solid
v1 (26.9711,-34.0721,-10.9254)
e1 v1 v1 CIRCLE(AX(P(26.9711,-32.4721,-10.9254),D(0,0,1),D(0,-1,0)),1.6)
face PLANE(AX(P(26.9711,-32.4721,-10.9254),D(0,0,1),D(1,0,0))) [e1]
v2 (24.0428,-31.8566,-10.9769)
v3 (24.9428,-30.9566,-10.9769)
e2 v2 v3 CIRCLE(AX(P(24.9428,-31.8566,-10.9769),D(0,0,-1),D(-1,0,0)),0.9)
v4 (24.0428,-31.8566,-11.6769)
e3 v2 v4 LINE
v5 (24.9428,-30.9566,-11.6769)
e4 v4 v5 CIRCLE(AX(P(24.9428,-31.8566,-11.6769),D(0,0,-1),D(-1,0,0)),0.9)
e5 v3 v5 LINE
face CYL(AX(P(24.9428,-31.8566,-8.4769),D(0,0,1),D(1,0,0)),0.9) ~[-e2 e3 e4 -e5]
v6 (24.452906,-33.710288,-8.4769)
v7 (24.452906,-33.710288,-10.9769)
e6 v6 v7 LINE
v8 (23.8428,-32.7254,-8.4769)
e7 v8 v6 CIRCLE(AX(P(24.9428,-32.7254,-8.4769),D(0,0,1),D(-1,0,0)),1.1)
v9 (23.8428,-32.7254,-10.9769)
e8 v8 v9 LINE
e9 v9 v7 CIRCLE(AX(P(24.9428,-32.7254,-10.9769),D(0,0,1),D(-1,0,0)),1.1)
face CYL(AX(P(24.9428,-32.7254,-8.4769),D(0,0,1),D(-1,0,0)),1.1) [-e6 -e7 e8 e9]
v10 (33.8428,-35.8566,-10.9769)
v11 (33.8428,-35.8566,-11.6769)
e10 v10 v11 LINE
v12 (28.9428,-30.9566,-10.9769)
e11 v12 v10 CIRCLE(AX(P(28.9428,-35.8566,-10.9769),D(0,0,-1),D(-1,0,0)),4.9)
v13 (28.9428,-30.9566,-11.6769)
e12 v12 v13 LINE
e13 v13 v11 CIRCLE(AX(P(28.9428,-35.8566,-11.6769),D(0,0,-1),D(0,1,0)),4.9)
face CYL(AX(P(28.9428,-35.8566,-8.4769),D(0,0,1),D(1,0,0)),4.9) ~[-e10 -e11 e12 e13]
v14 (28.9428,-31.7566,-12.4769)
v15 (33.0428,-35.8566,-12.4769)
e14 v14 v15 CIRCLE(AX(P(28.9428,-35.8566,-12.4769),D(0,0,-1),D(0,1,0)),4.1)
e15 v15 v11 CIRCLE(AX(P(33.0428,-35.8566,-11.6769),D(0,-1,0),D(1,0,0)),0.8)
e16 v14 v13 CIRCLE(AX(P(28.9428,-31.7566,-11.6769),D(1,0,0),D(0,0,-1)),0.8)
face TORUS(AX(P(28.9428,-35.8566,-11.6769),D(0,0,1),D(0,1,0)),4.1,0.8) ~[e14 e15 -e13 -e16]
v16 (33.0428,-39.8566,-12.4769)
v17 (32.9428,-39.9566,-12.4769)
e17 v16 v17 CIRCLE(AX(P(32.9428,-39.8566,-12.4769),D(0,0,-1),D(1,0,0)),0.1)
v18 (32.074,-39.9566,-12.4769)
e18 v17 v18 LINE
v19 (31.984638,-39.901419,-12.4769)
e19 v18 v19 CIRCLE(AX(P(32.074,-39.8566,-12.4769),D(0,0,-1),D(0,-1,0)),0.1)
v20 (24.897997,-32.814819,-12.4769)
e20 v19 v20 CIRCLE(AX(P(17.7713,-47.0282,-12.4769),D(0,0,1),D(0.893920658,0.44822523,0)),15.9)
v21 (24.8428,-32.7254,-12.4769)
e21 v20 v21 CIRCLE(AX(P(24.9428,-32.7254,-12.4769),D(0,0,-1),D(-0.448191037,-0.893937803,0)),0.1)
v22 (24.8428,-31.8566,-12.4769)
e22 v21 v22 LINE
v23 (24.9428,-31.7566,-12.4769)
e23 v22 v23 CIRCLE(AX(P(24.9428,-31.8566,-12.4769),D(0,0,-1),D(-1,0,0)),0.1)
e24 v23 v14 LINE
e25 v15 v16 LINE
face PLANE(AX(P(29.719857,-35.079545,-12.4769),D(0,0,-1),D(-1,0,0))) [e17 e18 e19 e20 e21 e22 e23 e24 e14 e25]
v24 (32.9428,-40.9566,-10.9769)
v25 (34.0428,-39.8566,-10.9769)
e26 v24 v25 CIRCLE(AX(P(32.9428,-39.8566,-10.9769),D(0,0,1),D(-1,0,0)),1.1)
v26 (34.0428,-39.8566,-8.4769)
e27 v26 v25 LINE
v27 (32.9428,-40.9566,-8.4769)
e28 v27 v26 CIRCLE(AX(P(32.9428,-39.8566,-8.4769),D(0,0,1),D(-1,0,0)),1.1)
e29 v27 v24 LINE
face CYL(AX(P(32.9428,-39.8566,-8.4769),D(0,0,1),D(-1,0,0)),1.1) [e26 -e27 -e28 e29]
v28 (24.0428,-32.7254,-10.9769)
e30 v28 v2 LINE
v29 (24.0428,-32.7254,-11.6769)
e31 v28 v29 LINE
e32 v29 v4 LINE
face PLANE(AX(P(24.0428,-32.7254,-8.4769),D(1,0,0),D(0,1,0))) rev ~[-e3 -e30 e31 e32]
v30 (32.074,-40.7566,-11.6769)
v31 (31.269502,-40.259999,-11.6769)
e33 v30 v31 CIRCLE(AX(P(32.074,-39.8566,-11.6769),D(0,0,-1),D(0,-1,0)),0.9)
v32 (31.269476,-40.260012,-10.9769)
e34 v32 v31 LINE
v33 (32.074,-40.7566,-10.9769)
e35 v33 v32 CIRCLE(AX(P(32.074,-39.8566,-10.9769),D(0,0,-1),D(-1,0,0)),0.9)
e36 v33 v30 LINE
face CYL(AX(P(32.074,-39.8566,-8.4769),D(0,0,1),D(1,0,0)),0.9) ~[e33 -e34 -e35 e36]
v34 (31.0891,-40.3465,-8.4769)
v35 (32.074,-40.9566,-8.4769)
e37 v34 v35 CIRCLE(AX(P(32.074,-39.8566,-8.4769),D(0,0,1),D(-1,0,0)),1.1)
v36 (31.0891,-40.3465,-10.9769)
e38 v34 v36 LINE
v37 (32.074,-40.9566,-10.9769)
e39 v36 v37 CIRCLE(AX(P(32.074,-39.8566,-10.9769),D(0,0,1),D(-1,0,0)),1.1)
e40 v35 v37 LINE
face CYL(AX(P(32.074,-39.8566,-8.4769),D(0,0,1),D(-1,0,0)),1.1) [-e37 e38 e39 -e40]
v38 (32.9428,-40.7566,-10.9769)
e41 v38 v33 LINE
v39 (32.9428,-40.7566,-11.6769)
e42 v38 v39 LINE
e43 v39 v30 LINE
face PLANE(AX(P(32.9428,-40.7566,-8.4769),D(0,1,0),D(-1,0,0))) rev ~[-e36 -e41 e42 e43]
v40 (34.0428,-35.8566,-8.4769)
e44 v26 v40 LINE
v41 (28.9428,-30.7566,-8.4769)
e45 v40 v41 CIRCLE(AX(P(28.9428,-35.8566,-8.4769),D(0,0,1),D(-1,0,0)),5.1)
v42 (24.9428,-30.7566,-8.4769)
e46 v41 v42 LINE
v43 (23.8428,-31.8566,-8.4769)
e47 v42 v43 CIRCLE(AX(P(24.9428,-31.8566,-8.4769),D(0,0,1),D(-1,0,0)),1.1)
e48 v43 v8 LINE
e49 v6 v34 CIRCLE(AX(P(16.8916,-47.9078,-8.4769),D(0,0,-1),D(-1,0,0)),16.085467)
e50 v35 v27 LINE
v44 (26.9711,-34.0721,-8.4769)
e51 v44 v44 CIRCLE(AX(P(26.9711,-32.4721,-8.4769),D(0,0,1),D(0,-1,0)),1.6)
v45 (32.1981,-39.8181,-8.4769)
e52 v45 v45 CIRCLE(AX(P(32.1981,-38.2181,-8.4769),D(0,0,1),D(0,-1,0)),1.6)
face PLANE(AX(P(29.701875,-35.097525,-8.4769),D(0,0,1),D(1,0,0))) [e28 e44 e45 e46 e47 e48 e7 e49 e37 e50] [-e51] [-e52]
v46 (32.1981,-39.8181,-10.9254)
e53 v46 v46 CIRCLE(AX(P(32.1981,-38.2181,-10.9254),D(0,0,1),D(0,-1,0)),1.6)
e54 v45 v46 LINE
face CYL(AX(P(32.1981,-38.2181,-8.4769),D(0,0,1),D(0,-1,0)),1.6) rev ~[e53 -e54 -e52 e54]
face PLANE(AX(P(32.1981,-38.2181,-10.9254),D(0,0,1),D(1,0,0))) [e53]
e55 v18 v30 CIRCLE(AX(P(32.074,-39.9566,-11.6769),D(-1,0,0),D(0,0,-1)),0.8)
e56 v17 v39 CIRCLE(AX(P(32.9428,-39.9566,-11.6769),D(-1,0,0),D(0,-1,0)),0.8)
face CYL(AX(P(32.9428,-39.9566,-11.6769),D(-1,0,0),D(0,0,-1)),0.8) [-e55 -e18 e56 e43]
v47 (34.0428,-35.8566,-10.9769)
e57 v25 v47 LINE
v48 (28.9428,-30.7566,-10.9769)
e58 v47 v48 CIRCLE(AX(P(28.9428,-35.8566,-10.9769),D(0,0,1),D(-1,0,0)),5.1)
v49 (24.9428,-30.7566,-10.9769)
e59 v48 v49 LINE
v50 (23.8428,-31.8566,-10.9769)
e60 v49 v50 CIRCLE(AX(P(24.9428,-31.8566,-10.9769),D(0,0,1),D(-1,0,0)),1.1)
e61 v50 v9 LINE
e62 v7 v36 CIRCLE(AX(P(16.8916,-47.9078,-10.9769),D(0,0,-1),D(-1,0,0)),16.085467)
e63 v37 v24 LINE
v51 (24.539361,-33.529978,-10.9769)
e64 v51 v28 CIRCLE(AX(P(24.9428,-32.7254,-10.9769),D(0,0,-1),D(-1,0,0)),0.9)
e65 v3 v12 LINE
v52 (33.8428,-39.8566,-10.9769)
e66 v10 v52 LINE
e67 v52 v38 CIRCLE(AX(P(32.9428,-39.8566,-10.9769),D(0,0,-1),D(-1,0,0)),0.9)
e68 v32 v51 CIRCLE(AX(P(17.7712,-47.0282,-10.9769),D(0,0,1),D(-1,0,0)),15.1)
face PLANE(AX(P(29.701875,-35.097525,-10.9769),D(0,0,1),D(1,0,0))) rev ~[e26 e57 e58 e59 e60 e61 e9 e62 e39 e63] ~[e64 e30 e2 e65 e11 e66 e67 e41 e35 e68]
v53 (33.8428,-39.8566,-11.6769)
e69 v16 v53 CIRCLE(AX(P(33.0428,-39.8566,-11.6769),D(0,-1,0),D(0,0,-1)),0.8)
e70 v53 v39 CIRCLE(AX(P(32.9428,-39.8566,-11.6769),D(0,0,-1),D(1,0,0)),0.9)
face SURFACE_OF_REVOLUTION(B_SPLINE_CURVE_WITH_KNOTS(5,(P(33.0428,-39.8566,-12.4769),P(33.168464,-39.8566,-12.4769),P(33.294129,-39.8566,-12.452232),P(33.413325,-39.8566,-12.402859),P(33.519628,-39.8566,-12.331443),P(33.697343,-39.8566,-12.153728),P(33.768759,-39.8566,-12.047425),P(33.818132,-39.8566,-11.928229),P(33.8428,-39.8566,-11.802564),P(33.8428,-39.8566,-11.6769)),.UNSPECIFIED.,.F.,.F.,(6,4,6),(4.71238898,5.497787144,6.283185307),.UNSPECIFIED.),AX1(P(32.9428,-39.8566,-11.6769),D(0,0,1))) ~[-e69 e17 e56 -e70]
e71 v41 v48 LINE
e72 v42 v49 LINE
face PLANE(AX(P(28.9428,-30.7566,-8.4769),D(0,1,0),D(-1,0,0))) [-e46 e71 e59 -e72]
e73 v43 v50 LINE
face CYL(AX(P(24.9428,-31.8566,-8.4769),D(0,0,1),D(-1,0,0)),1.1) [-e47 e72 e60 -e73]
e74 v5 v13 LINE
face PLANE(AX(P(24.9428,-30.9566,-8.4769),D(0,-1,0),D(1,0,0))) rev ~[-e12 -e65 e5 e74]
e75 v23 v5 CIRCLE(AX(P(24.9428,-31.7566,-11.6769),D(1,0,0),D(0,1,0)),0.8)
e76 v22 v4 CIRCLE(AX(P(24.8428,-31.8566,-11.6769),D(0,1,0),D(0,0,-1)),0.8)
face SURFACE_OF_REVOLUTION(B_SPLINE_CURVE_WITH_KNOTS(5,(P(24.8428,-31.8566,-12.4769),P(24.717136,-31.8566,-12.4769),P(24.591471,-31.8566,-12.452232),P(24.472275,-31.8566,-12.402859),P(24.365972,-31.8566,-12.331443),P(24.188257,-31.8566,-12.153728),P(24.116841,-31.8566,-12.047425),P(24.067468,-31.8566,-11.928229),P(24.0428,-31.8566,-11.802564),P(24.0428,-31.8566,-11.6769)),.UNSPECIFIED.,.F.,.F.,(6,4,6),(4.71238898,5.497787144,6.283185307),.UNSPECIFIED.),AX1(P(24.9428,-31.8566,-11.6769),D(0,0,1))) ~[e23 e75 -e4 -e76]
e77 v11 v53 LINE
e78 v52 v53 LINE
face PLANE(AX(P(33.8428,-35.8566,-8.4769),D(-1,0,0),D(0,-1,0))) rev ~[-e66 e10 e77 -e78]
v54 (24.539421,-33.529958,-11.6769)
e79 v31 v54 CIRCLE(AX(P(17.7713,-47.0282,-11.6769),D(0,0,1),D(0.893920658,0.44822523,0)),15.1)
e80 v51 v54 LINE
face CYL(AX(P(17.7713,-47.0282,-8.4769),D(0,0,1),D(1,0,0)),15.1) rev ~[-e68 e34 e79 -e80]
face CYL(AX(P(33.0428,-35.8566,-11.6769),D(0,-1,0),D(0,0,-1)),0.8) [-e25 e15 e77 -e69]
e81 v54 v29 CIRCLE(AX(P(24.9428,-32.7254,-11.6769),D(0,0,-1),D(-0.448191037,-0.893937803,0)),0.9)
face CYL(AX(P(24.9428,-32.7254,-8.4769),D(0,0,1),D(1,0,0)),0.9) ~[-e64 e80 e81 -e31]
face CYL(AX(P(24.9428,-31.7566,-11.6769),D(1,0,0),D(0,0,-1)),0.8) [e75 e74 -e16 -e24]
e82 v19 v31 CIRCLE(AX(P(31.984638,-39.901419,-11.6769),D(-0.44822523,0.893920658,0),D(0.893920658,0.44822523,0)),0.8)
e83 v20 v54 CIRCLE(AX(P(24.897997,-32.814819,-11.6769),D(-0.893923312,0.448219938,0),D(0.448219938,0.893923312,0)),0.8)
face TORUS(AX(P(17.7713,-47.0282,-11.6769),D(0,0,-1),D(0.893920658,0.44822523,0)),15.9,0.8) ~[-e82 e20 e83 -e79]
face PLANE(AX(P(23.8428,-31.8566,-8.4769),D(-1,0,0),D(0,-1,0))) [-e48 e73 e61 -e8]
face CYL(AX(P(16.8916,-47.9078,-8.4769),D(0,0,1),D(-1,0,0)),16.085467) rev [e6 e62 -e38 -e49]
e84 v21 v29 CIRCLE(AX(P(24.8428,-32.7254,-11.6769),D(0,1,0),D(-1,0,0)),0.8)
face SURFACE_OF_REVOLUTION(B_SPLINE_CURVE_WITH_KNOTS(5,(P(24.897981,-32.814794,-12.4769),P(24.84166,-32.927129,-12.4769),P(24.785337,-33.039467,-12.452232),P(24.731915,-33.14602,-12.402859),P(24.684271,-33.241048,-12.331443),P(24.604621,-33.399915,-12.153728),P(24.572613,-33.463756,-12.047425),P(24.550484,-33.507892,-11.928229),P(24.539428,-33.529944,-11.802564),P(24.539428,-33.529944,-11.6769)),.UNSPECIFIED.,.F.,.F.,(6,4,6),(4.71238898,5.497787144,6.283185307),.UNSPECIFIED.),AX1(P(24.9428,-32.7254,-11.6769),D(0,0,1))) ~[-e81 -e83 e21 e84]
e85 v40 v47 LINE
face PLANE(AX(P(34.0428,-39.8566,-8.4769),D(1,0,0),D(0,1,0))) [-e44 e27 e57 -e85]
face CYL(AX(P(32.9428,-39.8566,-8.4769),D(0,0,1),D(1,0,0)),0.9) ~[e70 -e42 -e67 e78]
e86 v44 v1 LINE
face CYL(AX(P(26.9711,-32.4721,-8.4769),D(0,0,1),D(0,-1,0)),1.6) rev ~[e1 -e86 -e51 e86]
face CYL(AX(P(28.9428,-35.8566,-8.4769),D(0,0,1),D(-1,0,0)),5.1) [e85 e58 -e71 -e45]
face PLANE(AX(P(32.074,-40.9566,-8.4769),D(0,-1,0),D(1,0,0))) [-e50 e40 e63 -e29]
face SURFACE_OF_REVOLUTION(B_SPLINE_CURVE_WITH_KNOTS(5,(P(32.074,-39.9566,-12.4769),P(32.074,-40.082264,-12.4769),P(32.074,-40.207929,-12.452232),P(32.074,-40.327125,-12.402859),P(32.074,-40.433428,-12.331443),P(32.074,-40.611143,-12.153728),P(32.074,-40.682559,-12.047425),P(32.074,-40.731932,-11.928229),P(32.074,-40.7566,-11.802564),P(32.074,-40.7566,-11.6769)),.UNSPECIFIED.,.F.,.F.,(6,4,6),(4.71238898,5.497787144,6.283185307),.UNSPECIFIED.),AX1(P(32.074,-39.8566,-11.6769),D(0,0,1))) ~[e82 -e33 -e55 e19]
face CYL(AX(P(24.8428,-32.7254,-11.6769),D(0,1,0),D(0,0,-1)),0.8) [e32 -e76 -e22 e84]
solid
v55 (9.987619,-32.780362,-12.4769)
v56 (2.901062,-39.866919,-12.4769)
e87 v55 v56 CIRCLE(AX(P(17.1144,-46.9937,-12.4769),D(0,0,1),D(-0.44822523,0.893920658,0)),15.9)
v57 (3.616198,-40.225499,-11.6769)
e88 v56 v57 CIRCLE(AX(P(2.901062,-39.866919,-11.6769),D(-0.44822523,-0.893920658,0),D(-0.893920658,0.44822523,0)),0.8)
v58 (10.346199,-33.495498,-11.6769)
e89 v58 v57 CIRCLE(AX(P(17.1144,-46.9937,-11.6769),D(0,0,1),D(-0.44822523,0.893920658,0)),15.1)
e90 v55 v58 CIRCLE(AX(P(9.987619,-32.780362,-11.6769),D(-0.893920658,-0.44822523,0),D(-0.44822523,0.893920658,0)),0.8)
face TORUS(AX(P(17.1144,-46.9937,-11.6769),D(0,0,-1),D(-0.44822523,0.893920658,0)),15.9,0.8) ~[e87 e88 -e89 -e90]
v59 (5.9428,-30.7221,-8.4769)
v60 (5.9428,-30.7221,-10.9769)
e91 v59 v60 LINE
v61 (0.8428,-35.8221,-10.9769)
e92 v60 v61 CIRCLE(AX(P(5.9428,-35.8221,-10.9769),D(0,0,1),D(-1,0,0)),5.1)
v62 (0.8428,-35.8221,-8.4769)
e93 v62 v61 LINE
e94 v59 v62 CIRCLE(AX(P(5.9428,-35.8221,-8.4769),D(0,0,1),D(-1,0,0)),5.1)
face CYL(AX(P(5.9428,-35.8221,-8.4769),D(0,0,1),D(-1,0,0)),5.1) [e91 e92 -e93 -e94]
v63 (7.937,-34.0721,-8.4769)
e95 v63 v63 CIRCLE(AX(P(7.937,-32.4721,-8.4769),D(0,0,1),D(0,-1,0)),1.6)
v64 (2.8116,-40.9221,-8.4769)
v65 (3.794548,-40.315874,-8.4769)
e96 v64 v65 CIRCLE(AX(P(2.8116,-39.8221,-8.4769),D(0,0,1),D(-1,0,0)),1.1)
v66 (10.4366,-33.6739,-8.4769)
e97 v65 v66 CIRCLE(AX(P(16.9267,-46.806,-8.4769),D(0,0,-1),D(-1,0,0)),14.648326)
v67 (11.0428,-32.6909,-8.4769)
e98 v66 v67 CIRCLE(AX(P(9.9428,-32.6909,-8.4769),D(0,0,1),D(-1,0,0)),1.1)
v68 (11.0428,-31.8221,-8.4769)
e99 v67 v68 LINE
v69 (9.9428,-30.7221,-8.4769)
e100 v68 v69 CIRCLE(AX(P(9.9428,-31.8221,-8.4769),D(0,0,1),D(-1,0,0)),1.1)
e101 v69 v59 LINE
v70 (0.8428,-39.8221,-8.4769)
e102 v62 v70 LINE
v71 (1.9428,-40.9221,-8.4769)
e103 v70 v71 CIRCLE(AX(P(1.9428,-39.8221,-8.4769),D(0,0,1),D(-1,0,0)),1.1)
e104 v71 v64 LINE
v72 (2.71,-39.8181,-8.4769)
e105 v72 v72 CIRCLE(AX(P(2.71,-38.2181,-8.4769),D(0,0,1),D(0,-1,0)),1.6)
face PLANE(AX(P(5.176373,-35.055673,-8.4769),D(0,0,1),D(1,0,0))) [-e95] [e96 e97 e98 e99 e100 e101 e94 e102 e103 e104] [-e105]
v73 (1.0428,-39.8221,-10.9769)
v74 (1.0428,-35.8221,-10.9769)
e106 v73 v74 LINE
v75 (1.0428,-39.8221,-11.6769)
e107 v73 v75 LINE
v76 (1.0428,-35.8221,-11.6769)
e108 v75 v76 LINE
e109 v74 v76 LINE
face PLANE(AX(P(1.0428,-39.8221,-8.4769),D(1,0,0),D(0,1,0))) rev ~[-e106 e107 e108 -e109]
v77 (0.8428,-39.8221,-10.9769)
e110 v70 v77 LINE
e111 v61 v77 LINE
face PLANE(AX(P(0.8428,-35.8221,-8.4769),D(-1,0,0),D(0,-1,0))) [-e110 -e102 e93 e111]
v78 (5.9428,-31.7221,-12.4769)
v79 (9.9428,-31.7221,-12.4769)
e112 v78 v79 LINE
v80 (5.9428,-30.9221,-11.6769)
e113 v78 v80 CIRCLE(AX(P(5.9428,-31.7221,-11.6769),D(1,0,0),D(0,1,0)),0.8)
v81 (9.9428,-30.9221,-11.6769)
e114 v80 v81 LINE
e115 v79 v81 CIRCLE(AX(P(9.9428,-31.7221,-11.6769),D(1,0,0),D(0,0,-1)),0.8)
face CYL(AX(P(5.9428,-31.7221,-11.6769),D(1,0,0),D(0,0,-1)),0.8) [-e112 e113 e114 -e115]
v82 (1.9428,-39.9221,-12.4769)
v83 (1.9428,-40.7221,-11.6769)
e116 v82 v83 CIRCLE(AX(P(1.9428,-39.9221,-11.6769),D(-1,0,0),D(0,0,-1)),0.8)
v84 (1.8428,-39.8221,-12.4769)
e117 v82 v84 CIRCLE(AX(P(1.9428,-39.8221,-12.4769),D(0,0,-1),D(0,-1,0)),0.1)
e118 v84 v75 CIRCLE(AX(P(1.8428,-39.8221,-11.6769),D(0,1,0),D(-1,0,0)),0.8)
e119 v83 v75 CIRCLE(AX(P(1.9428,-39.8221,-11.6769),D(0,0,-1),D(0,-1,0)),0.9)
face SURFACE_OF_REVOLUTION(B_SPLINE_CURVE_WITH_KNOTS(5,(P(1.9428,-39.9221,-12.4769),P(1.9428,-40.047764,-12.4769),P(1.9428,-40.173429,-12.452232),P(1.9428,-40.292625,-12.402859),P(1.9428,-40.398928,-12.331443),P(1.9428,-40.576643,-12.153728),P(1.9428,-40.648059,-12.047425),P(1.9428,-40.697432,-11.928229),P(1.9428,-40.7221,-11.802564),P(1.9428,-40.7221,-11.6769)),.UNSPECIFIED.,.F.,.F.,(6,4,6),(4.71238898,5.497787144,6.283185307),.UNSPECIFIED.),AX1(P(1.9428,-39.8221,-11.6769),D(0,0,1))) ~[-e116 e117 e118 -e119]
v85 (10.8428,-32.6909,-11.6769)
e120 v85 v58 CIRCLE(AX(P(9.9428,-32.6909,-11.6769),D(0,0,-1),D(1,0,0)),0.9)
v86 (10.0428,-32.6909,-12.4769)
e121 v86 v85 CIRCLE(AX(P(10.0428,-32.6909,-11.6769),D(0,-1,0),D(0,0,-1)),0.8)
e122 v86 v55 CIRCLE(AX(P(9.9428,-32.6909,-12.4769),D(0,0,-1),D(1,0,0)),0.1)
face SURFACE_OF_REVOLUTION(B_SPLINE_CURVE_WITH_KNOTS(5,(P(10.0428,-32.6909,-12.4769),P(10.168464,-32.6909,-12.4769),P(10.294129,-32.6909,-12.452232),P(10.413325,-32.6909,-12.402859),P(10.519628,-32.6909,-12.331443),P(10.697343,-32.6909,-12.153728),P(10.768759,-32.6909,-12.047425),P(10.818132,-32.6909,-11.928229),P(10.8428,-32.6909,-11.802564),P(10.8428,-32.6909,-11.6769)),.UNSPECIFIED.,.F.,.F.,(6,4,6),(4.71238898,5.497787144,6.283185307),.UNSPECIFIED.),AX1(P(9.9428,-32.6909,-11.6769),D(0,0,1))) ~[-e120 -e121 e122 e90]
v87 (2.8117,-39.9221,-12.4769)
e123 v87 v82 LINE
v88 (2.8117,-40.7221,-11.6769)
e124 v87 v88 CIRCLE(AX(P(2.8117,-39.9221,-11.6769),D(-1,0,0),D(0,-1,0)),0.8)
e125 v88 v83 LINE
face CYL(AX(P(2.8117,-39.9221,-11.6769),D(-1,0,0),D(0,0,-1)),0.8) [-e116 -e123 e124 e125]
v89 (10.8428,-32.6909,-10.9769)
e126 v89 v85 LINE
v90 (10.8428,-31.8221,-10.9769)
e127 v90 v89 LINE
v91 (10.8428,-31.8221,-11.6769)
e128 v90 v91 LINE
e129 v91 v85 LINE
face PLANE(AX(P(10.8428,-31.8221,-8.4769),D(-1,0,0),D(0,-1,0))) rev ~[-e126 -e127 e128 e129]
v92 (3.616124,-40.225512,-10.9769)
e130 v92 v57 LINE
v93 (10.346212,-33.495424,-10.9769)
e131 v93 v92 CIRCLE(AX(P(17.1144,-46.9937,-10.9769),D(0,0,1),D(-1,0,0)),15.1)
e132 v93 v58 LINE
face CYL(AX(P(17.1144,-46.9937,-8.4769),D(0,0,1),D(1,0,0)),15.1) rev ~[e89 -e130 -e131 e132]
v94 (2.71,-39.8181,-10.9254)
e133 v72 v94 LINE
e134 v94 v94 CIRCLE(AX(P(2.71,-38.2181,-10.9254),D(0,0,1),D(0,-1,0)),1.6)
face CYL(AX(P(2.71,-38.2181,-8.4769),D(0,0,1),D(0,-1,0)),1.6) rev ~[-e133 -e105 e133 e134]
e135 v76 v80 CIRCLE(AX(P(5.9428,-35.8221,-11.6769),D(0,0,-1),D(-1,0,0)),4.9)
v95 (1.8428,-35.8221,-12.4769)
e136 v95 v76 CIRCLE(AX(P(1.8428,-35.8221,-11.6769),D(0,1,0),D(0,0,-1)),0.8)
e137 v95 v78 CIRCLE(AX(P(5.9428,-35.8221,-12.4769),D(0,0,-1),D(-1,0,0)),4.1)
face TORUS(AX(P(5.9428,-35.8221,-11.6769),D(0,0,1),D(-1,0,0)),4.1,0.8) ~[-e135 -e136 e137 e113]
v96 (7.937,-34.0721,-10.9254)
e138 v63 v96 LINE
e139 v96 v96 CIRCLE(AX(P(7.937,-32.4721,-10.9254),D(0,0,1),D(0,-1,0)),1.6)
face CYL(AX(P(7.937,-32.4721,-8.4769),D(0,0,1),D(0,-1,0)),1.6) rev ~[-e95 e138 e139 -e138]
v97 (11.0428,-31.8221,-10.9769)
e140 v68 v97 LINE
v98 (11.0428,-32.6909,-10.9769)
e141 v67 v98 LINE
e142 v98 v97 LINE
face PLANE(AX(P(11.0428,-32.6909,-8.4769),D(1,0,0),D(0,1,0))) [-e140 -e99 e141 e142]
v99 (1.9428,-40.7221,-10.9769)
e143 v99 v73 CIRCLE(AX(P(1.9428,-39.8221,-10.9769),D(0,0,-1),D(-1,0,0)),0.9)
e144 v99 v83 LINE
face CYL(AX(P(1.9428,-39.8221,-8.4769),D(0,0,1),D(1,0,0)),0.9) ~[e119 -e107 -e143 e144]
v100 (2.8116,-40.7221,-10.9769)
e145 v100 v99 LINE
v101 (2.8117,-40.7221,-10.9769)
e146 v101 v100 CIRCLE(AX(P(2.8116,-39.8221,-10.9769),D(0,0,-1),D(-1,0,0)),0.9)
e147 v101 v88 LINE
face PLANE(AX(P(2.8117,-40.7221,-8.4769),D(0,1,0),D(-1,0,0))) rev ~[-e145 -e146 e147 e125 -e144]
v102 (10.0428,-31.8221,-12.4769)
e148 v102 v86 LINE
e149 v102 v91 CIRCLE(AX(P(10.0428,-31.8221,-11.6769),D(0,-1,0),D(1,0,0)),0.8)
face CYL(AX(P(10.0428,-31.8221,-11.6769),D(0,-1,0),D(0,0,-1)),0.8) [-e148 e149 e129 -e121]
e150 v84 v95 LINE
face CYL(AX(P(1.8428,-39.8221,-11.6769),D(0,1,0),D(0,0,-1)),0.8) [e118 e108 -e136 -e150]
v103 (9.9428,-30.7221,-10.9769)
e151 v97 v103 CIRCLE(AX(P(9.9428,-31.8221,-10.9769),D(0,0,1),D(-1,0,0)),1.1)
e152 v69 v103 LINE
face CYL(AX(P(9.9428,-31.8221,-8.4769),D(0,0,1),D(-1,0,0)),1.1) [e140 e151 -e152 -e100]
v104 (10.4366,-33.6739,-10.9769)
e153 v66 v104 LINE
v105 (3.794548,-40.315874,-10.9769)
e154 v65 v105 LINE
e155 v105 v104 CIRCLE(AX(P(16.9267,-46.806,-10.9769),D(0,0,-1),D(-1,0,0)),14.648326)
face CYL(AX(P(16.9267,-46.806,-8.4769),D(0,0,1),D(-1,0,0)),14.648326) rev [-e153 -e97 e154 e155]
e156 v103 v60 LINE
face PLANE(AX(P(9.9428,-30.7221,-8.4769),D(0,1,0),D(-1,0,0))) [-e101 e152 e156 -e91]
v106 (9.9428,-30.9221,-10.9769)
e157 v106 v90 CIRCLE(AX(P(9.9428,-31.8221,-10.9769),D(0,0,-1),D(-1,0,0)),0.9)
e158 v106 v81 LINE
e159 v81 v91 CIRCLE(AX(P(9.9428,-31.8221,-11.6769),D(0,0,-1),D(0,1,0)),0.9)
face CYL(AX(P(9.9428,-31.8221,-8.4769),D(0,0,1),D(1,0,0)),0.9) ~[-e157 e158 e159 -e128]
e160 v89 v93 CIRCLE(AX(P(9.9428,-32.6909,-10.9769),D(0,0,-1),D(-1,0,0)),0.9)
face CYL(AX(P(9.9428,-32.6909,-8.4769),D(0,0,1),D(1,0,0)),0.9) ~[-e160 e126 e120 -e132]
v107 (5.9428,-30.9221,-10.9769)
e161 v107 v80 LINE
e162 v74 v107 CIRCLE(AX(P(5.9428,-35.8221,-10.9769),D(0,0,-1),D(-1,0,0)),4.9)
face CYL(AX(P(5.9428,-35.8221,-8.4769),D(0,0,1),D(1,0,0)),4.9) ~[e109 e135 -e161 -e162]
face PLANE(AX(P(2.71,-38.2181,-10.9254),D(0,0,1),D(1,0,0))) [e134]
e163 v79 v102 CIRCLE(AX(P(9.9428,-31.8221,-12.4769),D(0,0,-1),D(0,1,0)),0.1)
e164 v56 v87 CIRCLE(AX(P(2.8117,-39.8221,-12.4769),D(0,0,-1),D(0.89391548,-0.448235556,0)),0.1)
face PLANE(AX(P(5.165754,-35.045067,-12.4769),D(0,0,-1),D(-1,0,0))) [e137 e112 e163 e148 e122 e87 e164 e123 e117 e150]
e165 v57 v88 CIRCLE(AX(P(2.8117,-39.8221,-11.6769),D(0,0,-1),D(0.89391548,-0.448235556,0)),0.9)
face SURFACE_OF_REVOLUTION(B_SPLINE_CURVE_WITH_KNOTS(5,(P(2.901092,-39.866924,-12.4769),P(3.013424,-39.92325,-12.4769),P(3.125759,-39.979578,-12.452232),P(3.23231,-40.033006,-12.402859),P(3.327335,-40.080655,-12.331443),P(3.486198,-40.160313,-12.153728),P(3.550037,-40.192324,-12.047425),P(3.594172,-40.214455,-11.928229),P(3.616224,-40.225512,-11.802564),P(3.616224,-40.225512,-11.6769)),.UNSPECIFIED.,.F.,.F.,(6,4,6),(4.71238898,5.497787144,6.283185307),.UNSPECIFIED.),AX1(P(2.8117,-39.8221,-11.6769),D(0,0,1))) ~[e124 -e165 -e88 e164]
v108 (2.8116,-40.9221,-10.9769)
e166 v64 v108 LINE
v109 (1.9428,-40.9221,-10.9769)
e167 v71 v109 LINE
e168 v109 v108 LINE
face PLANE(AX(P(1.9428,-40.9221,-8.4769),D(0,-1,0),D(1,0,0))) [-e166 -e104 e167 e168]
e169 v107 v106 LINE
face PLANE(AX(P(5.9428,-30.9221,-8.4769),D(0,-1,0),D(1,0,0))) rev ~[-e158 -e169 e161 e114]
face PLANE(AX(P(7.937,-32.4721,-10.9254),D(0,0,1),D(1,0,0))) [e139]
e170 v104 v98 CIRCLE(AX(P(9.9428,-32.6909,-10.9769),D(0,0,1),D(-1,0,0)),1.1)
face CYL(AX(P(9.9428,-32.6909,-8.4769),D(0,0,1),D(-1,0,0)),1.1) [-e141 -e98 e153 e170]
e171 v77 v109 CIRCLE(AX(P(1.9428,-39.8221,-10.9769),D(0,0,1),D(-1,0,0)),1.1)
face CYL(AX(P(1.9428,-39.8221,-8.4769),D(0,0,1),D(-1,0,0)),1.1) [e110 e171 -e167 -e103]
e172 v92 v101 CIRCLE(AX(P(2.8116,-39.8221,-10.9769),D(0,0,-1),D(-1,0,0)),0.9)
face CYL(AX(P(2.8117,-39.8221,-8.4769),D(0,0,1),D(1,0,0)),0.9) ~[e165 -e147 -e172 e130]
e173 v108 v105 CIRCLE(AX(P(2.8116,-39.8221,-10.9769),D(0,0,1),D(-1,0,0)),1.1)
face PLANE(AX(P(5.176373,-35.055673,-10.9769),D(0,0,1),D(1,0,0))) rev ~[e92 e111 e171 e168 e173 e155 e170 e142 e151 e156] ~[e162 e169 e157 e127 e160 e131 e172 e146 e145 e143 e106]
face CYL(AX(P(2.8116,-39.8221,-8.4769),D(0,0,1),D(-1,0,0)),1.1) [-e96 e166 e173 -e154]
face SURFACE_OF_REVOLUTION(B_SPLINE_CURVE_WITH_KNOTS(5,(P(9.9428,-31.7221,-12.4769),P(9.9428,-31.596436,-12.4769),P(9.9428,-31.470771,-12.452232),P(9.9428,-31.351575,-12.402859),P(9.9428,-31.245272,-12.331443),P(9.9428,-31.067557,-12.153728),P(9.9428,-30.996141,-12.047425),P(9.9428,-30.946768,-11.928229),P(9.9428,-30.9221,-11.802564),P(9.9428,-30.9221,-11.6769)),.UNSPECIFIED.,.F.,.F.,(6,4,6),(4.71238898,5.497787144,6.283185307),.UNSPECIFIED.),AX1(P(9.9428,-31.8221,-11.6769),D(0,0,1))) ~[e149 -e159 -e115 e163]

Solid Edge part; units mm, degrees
sketch "Sketch1" plane through (0, 0, -8.4769) normal (0, 0, 1) x (1, 0, 0)
  line L0 (24.0428, -32.7254) -> (24.0428, -31.8566)
  arc A0 (24.0428, -31.8566) -> (24.9428, -30.9566) centre (24.9428, -31.8566) cw
  line L1 (24.9428, -30.9566) -> (28.9428, -30.9566)
  arc A1 (28.9428, -30.9566) -> (33.8428, -35.8566) centre (28.9428, -35.8566) cw
  line L2 (33.8428, -35.8566) -> (33.8428, -39.8566)
  arc A2 (33.8428, -39.8566) -> (32.9428, -40.7566) centre (32.9428, -39.8566) cw
  line L3 (32.9428, -40.7566) -> (32.074, -40.7566)
  arc A3 (32.074, -40.7566) -> (31.2695, -40.26) centre (32.074, -39.8566) cw
  arc A4 (31.2695, -40.26) -> (24.5394, -33.53) centre (17.7713, -47.0282) ccw
  arc A5 (24.5394, -33.53) -> (24.0428, -32.7254) centre (24.9428, -32.7254) cw
  line L4 (1.0428, -39.8221) -> (1.0428, -35.8221)
  arc A6 (1.0428, -35.8221) -> (5.9428, -30.9221) centre (5.9428, -35.8221) cw
  line L5 (5.9428, -30.9221) -> (9.9428, -30.9221)
  arc A7 (9.9428, -30.9221) -> (10.8428, -31.8221) centre (9.9428, -31.8221) cw
  line L6 (10.8428, -31.8221) -> (10.8428, -32.6909)
  arc A8 (10.8428, -32.6909) -> (10.3462, -33.4955) centre (9.9428, -32.6909) cw
  arc A9 (10.3462, -33.4955) -> (3.6162, -40.2255) centre (17.1144, -46.9937) ccw
  arc A10 (3.6162, -40.2255) -> (2.8117, -40.7221) centre (2.8117, -39.8221) cw
  line L7 (2.8117, -40.7221) -> (1.9428, -40.7221)
  arc A11 (1.9428, -40.7221) -> (1.0428, -39.8221) centre (1.9428, -39.8221) cw
extrude "ExtrudedProtrusion_1" add sketch "Sketch1" against normal blind 4
sketch "Sketch2" plane through (28.9428, -37.9566, -8.4769) normal (0, 0, 1) x (-1, 0, 0)
  line L0 (5.1, -6.1) -> (5.1, -5.2312)
  arc A0 (5.1, -5.2312) -> (4.4899, -4.2463) centre (4, -5.2312) ccw
  arc A1 (4.4899, -4.2463) -> (-2.1463, 2.3899) centre (12.0512, 9.9512) cw
  arc A2 (-2.1463, 2.3899) -> (-3.1312, 3) centre (-3.1312, 1.9) ccw
  line L1 (-3.1312, 3) -> (-4, 3)
  arc A3 (-4, 3) -> (-5.1, 1.9) centre (-4, 1.9) ccw
  line L2 (-5.1, 1.9) -> (-5.1, -2.1)
  arc A4 (-5.1, -2.1) -> (0, -7.2) centre (0, -2.1) ccw
  line L3 (0, -7.2) -> (4, -7.2)
  arc A5 (4, -7.2) -> (5.1, -6.1) centre (4, -6.1) ccw
  line L4 (4.9, -5.2312) -> (4.9, -6.1)
  arc A6 (4.9, -6.1) -> (4, -7) centre (4, -6.1) cw
  line L5 (4, -7) -> (0, -7)
  arc A7 (0, -7) -> (-4.9, -2.1) centre (0, -2.1) cw
  line L6 (-4.9, -2.1) -> (-4.9, 1.9)
  arc A8 (-4.9, 1.9) -> (-4, 2.8) centre (-4, 1.9) cw
  line L7 (-4, 2.8) -> (-3.1312, 2.8)
  arc A9 (-3.1312, 2.8) -> (-2.3267, 2.3034) centre (-3.1312, 1.9) cw
  arc A10 (-2.3267, 2.3034) -> (4.4034, -4.4267) centre (11.1716, 9.0716) ccw
  arc A11 (4.4034, -4.4267) -> (4.9, -5.2312) centre (4, -5.2312) cw
  arc A12 (25.3267, 2.2689) -> (26.1312, 2.7655) centre (26.1312, 1.8655) cw
  line L8 (26.1312, 2.7655) -> (27, 2.7655)
  arc A13 (27, 2.7655) -> (27.9, 1.8655) centre (27, 1.8655) cw
  line L9 (27.9, 1.8655) -> (27.9, -2.1345)
  arc A14 (27.9, -2.1345) -> (23, -7.0345) centre (23, -2.1345) cw
  line L10 (23, -7.0345) -> (19, -7.0345)
  arc A15 (19, -7.0345) -> (18.1, -6.1345) centre (19, -6.1345) cw
  line L11 (18.1, -6.1345) -> (18.1, -5.2657)
  arc A16 (18.1, -5.2657) -> (18.5966, -4.4612) centre (19, -5.2657) cw
  arc A17 (18.5966, -4.4612) -> (25.3267, 2.2689) centre (11.8284, 9.0371) ccw
  arc A18 (28.1, 1.8655) -> (27, 2.9655) centre (27, 1.8655) ccw
  line L12 (27, 2.9655) -> (26.1312, 2.9655)
  arc A19 (26.1312, 2.9655) -> (25.1482, 2.3593) centre (26.1312, 1.8655) ccw
  arc A20 (25.1482, 2.3593) -> (18.5062, -4.2827) centre (12.0161, 8.8494) cw
  arc A21 (18.5062, -4.2827) -> (17.9, -5.2657) centre (19, -5.2657) ccw
  line L13 (17.9, -5.2657) -> (17.9, -6.1345)
  arc A22 (17.9, -6.1345) -> (19, -7.2345) centre (19, -6.1345) ccw
  line L14 (19, -7.2345) -> (23, -7.2345)
  arc A23 (23, -7.2345) -> (28.1, -2.1345) centre (23, -2.1345) ccw
  line L15 (28.1, -2.1345) -> (28.1, 1.8655)
extrude "Protrusion1" add sketch "Sketch2" against normal blind 2.5
fillet "Round_1" radius 0.8 20 edges at (6.4371, -36.3164, -12.4769) (3.2844, -40.588, -12.4769) (2.3773, -40.7221, -12.4769) (1.3064, -40.4585, -12.4769) (1.0428, -37.8221, -12.4769) (2.478, -32.3573, -12.4769) (7.9428, -30.9221, -12.4769) (10.5792, -31.1857, -12.4769) (10.8428, -32.2565, -12.4769) (10.7087, -33.1637, -12.4769) (28.4486, -36.3509, -12.4769) (24.177, -33.1982, -12.4769) (24.0428, -32.291, -12.4769) (24.3064, -31.2202, -12.4769) (26.9428, -30.9566, -12.4769) (32.4077, -32.3918, -12.4769) (33.8428, -37.8566, -12.4769) (33.5792, -40.493, -12.4769) (32.5084, -40.7566, -12.4769) (31.6013, -40.6225, -12.4769)
sketch "Sketch3" plane through (28.9428, -35.8566, -8.4769) normal (0, 0, 1) x (0, -1, 0)
  circle A0 centre (2.3615, 3.2553) radius 1.6
  circle A1 centre (-3.3845, -1.9717) radius 1.6
  circle A2 centre (-3.3845, -21.0058) radius 1.6
  circle A3 centre (2.3615, -26.2328) radius 1.6
extrude "ExtrudedCutout_1" cut sketch "Sketch3" against normal blind 2.4485
